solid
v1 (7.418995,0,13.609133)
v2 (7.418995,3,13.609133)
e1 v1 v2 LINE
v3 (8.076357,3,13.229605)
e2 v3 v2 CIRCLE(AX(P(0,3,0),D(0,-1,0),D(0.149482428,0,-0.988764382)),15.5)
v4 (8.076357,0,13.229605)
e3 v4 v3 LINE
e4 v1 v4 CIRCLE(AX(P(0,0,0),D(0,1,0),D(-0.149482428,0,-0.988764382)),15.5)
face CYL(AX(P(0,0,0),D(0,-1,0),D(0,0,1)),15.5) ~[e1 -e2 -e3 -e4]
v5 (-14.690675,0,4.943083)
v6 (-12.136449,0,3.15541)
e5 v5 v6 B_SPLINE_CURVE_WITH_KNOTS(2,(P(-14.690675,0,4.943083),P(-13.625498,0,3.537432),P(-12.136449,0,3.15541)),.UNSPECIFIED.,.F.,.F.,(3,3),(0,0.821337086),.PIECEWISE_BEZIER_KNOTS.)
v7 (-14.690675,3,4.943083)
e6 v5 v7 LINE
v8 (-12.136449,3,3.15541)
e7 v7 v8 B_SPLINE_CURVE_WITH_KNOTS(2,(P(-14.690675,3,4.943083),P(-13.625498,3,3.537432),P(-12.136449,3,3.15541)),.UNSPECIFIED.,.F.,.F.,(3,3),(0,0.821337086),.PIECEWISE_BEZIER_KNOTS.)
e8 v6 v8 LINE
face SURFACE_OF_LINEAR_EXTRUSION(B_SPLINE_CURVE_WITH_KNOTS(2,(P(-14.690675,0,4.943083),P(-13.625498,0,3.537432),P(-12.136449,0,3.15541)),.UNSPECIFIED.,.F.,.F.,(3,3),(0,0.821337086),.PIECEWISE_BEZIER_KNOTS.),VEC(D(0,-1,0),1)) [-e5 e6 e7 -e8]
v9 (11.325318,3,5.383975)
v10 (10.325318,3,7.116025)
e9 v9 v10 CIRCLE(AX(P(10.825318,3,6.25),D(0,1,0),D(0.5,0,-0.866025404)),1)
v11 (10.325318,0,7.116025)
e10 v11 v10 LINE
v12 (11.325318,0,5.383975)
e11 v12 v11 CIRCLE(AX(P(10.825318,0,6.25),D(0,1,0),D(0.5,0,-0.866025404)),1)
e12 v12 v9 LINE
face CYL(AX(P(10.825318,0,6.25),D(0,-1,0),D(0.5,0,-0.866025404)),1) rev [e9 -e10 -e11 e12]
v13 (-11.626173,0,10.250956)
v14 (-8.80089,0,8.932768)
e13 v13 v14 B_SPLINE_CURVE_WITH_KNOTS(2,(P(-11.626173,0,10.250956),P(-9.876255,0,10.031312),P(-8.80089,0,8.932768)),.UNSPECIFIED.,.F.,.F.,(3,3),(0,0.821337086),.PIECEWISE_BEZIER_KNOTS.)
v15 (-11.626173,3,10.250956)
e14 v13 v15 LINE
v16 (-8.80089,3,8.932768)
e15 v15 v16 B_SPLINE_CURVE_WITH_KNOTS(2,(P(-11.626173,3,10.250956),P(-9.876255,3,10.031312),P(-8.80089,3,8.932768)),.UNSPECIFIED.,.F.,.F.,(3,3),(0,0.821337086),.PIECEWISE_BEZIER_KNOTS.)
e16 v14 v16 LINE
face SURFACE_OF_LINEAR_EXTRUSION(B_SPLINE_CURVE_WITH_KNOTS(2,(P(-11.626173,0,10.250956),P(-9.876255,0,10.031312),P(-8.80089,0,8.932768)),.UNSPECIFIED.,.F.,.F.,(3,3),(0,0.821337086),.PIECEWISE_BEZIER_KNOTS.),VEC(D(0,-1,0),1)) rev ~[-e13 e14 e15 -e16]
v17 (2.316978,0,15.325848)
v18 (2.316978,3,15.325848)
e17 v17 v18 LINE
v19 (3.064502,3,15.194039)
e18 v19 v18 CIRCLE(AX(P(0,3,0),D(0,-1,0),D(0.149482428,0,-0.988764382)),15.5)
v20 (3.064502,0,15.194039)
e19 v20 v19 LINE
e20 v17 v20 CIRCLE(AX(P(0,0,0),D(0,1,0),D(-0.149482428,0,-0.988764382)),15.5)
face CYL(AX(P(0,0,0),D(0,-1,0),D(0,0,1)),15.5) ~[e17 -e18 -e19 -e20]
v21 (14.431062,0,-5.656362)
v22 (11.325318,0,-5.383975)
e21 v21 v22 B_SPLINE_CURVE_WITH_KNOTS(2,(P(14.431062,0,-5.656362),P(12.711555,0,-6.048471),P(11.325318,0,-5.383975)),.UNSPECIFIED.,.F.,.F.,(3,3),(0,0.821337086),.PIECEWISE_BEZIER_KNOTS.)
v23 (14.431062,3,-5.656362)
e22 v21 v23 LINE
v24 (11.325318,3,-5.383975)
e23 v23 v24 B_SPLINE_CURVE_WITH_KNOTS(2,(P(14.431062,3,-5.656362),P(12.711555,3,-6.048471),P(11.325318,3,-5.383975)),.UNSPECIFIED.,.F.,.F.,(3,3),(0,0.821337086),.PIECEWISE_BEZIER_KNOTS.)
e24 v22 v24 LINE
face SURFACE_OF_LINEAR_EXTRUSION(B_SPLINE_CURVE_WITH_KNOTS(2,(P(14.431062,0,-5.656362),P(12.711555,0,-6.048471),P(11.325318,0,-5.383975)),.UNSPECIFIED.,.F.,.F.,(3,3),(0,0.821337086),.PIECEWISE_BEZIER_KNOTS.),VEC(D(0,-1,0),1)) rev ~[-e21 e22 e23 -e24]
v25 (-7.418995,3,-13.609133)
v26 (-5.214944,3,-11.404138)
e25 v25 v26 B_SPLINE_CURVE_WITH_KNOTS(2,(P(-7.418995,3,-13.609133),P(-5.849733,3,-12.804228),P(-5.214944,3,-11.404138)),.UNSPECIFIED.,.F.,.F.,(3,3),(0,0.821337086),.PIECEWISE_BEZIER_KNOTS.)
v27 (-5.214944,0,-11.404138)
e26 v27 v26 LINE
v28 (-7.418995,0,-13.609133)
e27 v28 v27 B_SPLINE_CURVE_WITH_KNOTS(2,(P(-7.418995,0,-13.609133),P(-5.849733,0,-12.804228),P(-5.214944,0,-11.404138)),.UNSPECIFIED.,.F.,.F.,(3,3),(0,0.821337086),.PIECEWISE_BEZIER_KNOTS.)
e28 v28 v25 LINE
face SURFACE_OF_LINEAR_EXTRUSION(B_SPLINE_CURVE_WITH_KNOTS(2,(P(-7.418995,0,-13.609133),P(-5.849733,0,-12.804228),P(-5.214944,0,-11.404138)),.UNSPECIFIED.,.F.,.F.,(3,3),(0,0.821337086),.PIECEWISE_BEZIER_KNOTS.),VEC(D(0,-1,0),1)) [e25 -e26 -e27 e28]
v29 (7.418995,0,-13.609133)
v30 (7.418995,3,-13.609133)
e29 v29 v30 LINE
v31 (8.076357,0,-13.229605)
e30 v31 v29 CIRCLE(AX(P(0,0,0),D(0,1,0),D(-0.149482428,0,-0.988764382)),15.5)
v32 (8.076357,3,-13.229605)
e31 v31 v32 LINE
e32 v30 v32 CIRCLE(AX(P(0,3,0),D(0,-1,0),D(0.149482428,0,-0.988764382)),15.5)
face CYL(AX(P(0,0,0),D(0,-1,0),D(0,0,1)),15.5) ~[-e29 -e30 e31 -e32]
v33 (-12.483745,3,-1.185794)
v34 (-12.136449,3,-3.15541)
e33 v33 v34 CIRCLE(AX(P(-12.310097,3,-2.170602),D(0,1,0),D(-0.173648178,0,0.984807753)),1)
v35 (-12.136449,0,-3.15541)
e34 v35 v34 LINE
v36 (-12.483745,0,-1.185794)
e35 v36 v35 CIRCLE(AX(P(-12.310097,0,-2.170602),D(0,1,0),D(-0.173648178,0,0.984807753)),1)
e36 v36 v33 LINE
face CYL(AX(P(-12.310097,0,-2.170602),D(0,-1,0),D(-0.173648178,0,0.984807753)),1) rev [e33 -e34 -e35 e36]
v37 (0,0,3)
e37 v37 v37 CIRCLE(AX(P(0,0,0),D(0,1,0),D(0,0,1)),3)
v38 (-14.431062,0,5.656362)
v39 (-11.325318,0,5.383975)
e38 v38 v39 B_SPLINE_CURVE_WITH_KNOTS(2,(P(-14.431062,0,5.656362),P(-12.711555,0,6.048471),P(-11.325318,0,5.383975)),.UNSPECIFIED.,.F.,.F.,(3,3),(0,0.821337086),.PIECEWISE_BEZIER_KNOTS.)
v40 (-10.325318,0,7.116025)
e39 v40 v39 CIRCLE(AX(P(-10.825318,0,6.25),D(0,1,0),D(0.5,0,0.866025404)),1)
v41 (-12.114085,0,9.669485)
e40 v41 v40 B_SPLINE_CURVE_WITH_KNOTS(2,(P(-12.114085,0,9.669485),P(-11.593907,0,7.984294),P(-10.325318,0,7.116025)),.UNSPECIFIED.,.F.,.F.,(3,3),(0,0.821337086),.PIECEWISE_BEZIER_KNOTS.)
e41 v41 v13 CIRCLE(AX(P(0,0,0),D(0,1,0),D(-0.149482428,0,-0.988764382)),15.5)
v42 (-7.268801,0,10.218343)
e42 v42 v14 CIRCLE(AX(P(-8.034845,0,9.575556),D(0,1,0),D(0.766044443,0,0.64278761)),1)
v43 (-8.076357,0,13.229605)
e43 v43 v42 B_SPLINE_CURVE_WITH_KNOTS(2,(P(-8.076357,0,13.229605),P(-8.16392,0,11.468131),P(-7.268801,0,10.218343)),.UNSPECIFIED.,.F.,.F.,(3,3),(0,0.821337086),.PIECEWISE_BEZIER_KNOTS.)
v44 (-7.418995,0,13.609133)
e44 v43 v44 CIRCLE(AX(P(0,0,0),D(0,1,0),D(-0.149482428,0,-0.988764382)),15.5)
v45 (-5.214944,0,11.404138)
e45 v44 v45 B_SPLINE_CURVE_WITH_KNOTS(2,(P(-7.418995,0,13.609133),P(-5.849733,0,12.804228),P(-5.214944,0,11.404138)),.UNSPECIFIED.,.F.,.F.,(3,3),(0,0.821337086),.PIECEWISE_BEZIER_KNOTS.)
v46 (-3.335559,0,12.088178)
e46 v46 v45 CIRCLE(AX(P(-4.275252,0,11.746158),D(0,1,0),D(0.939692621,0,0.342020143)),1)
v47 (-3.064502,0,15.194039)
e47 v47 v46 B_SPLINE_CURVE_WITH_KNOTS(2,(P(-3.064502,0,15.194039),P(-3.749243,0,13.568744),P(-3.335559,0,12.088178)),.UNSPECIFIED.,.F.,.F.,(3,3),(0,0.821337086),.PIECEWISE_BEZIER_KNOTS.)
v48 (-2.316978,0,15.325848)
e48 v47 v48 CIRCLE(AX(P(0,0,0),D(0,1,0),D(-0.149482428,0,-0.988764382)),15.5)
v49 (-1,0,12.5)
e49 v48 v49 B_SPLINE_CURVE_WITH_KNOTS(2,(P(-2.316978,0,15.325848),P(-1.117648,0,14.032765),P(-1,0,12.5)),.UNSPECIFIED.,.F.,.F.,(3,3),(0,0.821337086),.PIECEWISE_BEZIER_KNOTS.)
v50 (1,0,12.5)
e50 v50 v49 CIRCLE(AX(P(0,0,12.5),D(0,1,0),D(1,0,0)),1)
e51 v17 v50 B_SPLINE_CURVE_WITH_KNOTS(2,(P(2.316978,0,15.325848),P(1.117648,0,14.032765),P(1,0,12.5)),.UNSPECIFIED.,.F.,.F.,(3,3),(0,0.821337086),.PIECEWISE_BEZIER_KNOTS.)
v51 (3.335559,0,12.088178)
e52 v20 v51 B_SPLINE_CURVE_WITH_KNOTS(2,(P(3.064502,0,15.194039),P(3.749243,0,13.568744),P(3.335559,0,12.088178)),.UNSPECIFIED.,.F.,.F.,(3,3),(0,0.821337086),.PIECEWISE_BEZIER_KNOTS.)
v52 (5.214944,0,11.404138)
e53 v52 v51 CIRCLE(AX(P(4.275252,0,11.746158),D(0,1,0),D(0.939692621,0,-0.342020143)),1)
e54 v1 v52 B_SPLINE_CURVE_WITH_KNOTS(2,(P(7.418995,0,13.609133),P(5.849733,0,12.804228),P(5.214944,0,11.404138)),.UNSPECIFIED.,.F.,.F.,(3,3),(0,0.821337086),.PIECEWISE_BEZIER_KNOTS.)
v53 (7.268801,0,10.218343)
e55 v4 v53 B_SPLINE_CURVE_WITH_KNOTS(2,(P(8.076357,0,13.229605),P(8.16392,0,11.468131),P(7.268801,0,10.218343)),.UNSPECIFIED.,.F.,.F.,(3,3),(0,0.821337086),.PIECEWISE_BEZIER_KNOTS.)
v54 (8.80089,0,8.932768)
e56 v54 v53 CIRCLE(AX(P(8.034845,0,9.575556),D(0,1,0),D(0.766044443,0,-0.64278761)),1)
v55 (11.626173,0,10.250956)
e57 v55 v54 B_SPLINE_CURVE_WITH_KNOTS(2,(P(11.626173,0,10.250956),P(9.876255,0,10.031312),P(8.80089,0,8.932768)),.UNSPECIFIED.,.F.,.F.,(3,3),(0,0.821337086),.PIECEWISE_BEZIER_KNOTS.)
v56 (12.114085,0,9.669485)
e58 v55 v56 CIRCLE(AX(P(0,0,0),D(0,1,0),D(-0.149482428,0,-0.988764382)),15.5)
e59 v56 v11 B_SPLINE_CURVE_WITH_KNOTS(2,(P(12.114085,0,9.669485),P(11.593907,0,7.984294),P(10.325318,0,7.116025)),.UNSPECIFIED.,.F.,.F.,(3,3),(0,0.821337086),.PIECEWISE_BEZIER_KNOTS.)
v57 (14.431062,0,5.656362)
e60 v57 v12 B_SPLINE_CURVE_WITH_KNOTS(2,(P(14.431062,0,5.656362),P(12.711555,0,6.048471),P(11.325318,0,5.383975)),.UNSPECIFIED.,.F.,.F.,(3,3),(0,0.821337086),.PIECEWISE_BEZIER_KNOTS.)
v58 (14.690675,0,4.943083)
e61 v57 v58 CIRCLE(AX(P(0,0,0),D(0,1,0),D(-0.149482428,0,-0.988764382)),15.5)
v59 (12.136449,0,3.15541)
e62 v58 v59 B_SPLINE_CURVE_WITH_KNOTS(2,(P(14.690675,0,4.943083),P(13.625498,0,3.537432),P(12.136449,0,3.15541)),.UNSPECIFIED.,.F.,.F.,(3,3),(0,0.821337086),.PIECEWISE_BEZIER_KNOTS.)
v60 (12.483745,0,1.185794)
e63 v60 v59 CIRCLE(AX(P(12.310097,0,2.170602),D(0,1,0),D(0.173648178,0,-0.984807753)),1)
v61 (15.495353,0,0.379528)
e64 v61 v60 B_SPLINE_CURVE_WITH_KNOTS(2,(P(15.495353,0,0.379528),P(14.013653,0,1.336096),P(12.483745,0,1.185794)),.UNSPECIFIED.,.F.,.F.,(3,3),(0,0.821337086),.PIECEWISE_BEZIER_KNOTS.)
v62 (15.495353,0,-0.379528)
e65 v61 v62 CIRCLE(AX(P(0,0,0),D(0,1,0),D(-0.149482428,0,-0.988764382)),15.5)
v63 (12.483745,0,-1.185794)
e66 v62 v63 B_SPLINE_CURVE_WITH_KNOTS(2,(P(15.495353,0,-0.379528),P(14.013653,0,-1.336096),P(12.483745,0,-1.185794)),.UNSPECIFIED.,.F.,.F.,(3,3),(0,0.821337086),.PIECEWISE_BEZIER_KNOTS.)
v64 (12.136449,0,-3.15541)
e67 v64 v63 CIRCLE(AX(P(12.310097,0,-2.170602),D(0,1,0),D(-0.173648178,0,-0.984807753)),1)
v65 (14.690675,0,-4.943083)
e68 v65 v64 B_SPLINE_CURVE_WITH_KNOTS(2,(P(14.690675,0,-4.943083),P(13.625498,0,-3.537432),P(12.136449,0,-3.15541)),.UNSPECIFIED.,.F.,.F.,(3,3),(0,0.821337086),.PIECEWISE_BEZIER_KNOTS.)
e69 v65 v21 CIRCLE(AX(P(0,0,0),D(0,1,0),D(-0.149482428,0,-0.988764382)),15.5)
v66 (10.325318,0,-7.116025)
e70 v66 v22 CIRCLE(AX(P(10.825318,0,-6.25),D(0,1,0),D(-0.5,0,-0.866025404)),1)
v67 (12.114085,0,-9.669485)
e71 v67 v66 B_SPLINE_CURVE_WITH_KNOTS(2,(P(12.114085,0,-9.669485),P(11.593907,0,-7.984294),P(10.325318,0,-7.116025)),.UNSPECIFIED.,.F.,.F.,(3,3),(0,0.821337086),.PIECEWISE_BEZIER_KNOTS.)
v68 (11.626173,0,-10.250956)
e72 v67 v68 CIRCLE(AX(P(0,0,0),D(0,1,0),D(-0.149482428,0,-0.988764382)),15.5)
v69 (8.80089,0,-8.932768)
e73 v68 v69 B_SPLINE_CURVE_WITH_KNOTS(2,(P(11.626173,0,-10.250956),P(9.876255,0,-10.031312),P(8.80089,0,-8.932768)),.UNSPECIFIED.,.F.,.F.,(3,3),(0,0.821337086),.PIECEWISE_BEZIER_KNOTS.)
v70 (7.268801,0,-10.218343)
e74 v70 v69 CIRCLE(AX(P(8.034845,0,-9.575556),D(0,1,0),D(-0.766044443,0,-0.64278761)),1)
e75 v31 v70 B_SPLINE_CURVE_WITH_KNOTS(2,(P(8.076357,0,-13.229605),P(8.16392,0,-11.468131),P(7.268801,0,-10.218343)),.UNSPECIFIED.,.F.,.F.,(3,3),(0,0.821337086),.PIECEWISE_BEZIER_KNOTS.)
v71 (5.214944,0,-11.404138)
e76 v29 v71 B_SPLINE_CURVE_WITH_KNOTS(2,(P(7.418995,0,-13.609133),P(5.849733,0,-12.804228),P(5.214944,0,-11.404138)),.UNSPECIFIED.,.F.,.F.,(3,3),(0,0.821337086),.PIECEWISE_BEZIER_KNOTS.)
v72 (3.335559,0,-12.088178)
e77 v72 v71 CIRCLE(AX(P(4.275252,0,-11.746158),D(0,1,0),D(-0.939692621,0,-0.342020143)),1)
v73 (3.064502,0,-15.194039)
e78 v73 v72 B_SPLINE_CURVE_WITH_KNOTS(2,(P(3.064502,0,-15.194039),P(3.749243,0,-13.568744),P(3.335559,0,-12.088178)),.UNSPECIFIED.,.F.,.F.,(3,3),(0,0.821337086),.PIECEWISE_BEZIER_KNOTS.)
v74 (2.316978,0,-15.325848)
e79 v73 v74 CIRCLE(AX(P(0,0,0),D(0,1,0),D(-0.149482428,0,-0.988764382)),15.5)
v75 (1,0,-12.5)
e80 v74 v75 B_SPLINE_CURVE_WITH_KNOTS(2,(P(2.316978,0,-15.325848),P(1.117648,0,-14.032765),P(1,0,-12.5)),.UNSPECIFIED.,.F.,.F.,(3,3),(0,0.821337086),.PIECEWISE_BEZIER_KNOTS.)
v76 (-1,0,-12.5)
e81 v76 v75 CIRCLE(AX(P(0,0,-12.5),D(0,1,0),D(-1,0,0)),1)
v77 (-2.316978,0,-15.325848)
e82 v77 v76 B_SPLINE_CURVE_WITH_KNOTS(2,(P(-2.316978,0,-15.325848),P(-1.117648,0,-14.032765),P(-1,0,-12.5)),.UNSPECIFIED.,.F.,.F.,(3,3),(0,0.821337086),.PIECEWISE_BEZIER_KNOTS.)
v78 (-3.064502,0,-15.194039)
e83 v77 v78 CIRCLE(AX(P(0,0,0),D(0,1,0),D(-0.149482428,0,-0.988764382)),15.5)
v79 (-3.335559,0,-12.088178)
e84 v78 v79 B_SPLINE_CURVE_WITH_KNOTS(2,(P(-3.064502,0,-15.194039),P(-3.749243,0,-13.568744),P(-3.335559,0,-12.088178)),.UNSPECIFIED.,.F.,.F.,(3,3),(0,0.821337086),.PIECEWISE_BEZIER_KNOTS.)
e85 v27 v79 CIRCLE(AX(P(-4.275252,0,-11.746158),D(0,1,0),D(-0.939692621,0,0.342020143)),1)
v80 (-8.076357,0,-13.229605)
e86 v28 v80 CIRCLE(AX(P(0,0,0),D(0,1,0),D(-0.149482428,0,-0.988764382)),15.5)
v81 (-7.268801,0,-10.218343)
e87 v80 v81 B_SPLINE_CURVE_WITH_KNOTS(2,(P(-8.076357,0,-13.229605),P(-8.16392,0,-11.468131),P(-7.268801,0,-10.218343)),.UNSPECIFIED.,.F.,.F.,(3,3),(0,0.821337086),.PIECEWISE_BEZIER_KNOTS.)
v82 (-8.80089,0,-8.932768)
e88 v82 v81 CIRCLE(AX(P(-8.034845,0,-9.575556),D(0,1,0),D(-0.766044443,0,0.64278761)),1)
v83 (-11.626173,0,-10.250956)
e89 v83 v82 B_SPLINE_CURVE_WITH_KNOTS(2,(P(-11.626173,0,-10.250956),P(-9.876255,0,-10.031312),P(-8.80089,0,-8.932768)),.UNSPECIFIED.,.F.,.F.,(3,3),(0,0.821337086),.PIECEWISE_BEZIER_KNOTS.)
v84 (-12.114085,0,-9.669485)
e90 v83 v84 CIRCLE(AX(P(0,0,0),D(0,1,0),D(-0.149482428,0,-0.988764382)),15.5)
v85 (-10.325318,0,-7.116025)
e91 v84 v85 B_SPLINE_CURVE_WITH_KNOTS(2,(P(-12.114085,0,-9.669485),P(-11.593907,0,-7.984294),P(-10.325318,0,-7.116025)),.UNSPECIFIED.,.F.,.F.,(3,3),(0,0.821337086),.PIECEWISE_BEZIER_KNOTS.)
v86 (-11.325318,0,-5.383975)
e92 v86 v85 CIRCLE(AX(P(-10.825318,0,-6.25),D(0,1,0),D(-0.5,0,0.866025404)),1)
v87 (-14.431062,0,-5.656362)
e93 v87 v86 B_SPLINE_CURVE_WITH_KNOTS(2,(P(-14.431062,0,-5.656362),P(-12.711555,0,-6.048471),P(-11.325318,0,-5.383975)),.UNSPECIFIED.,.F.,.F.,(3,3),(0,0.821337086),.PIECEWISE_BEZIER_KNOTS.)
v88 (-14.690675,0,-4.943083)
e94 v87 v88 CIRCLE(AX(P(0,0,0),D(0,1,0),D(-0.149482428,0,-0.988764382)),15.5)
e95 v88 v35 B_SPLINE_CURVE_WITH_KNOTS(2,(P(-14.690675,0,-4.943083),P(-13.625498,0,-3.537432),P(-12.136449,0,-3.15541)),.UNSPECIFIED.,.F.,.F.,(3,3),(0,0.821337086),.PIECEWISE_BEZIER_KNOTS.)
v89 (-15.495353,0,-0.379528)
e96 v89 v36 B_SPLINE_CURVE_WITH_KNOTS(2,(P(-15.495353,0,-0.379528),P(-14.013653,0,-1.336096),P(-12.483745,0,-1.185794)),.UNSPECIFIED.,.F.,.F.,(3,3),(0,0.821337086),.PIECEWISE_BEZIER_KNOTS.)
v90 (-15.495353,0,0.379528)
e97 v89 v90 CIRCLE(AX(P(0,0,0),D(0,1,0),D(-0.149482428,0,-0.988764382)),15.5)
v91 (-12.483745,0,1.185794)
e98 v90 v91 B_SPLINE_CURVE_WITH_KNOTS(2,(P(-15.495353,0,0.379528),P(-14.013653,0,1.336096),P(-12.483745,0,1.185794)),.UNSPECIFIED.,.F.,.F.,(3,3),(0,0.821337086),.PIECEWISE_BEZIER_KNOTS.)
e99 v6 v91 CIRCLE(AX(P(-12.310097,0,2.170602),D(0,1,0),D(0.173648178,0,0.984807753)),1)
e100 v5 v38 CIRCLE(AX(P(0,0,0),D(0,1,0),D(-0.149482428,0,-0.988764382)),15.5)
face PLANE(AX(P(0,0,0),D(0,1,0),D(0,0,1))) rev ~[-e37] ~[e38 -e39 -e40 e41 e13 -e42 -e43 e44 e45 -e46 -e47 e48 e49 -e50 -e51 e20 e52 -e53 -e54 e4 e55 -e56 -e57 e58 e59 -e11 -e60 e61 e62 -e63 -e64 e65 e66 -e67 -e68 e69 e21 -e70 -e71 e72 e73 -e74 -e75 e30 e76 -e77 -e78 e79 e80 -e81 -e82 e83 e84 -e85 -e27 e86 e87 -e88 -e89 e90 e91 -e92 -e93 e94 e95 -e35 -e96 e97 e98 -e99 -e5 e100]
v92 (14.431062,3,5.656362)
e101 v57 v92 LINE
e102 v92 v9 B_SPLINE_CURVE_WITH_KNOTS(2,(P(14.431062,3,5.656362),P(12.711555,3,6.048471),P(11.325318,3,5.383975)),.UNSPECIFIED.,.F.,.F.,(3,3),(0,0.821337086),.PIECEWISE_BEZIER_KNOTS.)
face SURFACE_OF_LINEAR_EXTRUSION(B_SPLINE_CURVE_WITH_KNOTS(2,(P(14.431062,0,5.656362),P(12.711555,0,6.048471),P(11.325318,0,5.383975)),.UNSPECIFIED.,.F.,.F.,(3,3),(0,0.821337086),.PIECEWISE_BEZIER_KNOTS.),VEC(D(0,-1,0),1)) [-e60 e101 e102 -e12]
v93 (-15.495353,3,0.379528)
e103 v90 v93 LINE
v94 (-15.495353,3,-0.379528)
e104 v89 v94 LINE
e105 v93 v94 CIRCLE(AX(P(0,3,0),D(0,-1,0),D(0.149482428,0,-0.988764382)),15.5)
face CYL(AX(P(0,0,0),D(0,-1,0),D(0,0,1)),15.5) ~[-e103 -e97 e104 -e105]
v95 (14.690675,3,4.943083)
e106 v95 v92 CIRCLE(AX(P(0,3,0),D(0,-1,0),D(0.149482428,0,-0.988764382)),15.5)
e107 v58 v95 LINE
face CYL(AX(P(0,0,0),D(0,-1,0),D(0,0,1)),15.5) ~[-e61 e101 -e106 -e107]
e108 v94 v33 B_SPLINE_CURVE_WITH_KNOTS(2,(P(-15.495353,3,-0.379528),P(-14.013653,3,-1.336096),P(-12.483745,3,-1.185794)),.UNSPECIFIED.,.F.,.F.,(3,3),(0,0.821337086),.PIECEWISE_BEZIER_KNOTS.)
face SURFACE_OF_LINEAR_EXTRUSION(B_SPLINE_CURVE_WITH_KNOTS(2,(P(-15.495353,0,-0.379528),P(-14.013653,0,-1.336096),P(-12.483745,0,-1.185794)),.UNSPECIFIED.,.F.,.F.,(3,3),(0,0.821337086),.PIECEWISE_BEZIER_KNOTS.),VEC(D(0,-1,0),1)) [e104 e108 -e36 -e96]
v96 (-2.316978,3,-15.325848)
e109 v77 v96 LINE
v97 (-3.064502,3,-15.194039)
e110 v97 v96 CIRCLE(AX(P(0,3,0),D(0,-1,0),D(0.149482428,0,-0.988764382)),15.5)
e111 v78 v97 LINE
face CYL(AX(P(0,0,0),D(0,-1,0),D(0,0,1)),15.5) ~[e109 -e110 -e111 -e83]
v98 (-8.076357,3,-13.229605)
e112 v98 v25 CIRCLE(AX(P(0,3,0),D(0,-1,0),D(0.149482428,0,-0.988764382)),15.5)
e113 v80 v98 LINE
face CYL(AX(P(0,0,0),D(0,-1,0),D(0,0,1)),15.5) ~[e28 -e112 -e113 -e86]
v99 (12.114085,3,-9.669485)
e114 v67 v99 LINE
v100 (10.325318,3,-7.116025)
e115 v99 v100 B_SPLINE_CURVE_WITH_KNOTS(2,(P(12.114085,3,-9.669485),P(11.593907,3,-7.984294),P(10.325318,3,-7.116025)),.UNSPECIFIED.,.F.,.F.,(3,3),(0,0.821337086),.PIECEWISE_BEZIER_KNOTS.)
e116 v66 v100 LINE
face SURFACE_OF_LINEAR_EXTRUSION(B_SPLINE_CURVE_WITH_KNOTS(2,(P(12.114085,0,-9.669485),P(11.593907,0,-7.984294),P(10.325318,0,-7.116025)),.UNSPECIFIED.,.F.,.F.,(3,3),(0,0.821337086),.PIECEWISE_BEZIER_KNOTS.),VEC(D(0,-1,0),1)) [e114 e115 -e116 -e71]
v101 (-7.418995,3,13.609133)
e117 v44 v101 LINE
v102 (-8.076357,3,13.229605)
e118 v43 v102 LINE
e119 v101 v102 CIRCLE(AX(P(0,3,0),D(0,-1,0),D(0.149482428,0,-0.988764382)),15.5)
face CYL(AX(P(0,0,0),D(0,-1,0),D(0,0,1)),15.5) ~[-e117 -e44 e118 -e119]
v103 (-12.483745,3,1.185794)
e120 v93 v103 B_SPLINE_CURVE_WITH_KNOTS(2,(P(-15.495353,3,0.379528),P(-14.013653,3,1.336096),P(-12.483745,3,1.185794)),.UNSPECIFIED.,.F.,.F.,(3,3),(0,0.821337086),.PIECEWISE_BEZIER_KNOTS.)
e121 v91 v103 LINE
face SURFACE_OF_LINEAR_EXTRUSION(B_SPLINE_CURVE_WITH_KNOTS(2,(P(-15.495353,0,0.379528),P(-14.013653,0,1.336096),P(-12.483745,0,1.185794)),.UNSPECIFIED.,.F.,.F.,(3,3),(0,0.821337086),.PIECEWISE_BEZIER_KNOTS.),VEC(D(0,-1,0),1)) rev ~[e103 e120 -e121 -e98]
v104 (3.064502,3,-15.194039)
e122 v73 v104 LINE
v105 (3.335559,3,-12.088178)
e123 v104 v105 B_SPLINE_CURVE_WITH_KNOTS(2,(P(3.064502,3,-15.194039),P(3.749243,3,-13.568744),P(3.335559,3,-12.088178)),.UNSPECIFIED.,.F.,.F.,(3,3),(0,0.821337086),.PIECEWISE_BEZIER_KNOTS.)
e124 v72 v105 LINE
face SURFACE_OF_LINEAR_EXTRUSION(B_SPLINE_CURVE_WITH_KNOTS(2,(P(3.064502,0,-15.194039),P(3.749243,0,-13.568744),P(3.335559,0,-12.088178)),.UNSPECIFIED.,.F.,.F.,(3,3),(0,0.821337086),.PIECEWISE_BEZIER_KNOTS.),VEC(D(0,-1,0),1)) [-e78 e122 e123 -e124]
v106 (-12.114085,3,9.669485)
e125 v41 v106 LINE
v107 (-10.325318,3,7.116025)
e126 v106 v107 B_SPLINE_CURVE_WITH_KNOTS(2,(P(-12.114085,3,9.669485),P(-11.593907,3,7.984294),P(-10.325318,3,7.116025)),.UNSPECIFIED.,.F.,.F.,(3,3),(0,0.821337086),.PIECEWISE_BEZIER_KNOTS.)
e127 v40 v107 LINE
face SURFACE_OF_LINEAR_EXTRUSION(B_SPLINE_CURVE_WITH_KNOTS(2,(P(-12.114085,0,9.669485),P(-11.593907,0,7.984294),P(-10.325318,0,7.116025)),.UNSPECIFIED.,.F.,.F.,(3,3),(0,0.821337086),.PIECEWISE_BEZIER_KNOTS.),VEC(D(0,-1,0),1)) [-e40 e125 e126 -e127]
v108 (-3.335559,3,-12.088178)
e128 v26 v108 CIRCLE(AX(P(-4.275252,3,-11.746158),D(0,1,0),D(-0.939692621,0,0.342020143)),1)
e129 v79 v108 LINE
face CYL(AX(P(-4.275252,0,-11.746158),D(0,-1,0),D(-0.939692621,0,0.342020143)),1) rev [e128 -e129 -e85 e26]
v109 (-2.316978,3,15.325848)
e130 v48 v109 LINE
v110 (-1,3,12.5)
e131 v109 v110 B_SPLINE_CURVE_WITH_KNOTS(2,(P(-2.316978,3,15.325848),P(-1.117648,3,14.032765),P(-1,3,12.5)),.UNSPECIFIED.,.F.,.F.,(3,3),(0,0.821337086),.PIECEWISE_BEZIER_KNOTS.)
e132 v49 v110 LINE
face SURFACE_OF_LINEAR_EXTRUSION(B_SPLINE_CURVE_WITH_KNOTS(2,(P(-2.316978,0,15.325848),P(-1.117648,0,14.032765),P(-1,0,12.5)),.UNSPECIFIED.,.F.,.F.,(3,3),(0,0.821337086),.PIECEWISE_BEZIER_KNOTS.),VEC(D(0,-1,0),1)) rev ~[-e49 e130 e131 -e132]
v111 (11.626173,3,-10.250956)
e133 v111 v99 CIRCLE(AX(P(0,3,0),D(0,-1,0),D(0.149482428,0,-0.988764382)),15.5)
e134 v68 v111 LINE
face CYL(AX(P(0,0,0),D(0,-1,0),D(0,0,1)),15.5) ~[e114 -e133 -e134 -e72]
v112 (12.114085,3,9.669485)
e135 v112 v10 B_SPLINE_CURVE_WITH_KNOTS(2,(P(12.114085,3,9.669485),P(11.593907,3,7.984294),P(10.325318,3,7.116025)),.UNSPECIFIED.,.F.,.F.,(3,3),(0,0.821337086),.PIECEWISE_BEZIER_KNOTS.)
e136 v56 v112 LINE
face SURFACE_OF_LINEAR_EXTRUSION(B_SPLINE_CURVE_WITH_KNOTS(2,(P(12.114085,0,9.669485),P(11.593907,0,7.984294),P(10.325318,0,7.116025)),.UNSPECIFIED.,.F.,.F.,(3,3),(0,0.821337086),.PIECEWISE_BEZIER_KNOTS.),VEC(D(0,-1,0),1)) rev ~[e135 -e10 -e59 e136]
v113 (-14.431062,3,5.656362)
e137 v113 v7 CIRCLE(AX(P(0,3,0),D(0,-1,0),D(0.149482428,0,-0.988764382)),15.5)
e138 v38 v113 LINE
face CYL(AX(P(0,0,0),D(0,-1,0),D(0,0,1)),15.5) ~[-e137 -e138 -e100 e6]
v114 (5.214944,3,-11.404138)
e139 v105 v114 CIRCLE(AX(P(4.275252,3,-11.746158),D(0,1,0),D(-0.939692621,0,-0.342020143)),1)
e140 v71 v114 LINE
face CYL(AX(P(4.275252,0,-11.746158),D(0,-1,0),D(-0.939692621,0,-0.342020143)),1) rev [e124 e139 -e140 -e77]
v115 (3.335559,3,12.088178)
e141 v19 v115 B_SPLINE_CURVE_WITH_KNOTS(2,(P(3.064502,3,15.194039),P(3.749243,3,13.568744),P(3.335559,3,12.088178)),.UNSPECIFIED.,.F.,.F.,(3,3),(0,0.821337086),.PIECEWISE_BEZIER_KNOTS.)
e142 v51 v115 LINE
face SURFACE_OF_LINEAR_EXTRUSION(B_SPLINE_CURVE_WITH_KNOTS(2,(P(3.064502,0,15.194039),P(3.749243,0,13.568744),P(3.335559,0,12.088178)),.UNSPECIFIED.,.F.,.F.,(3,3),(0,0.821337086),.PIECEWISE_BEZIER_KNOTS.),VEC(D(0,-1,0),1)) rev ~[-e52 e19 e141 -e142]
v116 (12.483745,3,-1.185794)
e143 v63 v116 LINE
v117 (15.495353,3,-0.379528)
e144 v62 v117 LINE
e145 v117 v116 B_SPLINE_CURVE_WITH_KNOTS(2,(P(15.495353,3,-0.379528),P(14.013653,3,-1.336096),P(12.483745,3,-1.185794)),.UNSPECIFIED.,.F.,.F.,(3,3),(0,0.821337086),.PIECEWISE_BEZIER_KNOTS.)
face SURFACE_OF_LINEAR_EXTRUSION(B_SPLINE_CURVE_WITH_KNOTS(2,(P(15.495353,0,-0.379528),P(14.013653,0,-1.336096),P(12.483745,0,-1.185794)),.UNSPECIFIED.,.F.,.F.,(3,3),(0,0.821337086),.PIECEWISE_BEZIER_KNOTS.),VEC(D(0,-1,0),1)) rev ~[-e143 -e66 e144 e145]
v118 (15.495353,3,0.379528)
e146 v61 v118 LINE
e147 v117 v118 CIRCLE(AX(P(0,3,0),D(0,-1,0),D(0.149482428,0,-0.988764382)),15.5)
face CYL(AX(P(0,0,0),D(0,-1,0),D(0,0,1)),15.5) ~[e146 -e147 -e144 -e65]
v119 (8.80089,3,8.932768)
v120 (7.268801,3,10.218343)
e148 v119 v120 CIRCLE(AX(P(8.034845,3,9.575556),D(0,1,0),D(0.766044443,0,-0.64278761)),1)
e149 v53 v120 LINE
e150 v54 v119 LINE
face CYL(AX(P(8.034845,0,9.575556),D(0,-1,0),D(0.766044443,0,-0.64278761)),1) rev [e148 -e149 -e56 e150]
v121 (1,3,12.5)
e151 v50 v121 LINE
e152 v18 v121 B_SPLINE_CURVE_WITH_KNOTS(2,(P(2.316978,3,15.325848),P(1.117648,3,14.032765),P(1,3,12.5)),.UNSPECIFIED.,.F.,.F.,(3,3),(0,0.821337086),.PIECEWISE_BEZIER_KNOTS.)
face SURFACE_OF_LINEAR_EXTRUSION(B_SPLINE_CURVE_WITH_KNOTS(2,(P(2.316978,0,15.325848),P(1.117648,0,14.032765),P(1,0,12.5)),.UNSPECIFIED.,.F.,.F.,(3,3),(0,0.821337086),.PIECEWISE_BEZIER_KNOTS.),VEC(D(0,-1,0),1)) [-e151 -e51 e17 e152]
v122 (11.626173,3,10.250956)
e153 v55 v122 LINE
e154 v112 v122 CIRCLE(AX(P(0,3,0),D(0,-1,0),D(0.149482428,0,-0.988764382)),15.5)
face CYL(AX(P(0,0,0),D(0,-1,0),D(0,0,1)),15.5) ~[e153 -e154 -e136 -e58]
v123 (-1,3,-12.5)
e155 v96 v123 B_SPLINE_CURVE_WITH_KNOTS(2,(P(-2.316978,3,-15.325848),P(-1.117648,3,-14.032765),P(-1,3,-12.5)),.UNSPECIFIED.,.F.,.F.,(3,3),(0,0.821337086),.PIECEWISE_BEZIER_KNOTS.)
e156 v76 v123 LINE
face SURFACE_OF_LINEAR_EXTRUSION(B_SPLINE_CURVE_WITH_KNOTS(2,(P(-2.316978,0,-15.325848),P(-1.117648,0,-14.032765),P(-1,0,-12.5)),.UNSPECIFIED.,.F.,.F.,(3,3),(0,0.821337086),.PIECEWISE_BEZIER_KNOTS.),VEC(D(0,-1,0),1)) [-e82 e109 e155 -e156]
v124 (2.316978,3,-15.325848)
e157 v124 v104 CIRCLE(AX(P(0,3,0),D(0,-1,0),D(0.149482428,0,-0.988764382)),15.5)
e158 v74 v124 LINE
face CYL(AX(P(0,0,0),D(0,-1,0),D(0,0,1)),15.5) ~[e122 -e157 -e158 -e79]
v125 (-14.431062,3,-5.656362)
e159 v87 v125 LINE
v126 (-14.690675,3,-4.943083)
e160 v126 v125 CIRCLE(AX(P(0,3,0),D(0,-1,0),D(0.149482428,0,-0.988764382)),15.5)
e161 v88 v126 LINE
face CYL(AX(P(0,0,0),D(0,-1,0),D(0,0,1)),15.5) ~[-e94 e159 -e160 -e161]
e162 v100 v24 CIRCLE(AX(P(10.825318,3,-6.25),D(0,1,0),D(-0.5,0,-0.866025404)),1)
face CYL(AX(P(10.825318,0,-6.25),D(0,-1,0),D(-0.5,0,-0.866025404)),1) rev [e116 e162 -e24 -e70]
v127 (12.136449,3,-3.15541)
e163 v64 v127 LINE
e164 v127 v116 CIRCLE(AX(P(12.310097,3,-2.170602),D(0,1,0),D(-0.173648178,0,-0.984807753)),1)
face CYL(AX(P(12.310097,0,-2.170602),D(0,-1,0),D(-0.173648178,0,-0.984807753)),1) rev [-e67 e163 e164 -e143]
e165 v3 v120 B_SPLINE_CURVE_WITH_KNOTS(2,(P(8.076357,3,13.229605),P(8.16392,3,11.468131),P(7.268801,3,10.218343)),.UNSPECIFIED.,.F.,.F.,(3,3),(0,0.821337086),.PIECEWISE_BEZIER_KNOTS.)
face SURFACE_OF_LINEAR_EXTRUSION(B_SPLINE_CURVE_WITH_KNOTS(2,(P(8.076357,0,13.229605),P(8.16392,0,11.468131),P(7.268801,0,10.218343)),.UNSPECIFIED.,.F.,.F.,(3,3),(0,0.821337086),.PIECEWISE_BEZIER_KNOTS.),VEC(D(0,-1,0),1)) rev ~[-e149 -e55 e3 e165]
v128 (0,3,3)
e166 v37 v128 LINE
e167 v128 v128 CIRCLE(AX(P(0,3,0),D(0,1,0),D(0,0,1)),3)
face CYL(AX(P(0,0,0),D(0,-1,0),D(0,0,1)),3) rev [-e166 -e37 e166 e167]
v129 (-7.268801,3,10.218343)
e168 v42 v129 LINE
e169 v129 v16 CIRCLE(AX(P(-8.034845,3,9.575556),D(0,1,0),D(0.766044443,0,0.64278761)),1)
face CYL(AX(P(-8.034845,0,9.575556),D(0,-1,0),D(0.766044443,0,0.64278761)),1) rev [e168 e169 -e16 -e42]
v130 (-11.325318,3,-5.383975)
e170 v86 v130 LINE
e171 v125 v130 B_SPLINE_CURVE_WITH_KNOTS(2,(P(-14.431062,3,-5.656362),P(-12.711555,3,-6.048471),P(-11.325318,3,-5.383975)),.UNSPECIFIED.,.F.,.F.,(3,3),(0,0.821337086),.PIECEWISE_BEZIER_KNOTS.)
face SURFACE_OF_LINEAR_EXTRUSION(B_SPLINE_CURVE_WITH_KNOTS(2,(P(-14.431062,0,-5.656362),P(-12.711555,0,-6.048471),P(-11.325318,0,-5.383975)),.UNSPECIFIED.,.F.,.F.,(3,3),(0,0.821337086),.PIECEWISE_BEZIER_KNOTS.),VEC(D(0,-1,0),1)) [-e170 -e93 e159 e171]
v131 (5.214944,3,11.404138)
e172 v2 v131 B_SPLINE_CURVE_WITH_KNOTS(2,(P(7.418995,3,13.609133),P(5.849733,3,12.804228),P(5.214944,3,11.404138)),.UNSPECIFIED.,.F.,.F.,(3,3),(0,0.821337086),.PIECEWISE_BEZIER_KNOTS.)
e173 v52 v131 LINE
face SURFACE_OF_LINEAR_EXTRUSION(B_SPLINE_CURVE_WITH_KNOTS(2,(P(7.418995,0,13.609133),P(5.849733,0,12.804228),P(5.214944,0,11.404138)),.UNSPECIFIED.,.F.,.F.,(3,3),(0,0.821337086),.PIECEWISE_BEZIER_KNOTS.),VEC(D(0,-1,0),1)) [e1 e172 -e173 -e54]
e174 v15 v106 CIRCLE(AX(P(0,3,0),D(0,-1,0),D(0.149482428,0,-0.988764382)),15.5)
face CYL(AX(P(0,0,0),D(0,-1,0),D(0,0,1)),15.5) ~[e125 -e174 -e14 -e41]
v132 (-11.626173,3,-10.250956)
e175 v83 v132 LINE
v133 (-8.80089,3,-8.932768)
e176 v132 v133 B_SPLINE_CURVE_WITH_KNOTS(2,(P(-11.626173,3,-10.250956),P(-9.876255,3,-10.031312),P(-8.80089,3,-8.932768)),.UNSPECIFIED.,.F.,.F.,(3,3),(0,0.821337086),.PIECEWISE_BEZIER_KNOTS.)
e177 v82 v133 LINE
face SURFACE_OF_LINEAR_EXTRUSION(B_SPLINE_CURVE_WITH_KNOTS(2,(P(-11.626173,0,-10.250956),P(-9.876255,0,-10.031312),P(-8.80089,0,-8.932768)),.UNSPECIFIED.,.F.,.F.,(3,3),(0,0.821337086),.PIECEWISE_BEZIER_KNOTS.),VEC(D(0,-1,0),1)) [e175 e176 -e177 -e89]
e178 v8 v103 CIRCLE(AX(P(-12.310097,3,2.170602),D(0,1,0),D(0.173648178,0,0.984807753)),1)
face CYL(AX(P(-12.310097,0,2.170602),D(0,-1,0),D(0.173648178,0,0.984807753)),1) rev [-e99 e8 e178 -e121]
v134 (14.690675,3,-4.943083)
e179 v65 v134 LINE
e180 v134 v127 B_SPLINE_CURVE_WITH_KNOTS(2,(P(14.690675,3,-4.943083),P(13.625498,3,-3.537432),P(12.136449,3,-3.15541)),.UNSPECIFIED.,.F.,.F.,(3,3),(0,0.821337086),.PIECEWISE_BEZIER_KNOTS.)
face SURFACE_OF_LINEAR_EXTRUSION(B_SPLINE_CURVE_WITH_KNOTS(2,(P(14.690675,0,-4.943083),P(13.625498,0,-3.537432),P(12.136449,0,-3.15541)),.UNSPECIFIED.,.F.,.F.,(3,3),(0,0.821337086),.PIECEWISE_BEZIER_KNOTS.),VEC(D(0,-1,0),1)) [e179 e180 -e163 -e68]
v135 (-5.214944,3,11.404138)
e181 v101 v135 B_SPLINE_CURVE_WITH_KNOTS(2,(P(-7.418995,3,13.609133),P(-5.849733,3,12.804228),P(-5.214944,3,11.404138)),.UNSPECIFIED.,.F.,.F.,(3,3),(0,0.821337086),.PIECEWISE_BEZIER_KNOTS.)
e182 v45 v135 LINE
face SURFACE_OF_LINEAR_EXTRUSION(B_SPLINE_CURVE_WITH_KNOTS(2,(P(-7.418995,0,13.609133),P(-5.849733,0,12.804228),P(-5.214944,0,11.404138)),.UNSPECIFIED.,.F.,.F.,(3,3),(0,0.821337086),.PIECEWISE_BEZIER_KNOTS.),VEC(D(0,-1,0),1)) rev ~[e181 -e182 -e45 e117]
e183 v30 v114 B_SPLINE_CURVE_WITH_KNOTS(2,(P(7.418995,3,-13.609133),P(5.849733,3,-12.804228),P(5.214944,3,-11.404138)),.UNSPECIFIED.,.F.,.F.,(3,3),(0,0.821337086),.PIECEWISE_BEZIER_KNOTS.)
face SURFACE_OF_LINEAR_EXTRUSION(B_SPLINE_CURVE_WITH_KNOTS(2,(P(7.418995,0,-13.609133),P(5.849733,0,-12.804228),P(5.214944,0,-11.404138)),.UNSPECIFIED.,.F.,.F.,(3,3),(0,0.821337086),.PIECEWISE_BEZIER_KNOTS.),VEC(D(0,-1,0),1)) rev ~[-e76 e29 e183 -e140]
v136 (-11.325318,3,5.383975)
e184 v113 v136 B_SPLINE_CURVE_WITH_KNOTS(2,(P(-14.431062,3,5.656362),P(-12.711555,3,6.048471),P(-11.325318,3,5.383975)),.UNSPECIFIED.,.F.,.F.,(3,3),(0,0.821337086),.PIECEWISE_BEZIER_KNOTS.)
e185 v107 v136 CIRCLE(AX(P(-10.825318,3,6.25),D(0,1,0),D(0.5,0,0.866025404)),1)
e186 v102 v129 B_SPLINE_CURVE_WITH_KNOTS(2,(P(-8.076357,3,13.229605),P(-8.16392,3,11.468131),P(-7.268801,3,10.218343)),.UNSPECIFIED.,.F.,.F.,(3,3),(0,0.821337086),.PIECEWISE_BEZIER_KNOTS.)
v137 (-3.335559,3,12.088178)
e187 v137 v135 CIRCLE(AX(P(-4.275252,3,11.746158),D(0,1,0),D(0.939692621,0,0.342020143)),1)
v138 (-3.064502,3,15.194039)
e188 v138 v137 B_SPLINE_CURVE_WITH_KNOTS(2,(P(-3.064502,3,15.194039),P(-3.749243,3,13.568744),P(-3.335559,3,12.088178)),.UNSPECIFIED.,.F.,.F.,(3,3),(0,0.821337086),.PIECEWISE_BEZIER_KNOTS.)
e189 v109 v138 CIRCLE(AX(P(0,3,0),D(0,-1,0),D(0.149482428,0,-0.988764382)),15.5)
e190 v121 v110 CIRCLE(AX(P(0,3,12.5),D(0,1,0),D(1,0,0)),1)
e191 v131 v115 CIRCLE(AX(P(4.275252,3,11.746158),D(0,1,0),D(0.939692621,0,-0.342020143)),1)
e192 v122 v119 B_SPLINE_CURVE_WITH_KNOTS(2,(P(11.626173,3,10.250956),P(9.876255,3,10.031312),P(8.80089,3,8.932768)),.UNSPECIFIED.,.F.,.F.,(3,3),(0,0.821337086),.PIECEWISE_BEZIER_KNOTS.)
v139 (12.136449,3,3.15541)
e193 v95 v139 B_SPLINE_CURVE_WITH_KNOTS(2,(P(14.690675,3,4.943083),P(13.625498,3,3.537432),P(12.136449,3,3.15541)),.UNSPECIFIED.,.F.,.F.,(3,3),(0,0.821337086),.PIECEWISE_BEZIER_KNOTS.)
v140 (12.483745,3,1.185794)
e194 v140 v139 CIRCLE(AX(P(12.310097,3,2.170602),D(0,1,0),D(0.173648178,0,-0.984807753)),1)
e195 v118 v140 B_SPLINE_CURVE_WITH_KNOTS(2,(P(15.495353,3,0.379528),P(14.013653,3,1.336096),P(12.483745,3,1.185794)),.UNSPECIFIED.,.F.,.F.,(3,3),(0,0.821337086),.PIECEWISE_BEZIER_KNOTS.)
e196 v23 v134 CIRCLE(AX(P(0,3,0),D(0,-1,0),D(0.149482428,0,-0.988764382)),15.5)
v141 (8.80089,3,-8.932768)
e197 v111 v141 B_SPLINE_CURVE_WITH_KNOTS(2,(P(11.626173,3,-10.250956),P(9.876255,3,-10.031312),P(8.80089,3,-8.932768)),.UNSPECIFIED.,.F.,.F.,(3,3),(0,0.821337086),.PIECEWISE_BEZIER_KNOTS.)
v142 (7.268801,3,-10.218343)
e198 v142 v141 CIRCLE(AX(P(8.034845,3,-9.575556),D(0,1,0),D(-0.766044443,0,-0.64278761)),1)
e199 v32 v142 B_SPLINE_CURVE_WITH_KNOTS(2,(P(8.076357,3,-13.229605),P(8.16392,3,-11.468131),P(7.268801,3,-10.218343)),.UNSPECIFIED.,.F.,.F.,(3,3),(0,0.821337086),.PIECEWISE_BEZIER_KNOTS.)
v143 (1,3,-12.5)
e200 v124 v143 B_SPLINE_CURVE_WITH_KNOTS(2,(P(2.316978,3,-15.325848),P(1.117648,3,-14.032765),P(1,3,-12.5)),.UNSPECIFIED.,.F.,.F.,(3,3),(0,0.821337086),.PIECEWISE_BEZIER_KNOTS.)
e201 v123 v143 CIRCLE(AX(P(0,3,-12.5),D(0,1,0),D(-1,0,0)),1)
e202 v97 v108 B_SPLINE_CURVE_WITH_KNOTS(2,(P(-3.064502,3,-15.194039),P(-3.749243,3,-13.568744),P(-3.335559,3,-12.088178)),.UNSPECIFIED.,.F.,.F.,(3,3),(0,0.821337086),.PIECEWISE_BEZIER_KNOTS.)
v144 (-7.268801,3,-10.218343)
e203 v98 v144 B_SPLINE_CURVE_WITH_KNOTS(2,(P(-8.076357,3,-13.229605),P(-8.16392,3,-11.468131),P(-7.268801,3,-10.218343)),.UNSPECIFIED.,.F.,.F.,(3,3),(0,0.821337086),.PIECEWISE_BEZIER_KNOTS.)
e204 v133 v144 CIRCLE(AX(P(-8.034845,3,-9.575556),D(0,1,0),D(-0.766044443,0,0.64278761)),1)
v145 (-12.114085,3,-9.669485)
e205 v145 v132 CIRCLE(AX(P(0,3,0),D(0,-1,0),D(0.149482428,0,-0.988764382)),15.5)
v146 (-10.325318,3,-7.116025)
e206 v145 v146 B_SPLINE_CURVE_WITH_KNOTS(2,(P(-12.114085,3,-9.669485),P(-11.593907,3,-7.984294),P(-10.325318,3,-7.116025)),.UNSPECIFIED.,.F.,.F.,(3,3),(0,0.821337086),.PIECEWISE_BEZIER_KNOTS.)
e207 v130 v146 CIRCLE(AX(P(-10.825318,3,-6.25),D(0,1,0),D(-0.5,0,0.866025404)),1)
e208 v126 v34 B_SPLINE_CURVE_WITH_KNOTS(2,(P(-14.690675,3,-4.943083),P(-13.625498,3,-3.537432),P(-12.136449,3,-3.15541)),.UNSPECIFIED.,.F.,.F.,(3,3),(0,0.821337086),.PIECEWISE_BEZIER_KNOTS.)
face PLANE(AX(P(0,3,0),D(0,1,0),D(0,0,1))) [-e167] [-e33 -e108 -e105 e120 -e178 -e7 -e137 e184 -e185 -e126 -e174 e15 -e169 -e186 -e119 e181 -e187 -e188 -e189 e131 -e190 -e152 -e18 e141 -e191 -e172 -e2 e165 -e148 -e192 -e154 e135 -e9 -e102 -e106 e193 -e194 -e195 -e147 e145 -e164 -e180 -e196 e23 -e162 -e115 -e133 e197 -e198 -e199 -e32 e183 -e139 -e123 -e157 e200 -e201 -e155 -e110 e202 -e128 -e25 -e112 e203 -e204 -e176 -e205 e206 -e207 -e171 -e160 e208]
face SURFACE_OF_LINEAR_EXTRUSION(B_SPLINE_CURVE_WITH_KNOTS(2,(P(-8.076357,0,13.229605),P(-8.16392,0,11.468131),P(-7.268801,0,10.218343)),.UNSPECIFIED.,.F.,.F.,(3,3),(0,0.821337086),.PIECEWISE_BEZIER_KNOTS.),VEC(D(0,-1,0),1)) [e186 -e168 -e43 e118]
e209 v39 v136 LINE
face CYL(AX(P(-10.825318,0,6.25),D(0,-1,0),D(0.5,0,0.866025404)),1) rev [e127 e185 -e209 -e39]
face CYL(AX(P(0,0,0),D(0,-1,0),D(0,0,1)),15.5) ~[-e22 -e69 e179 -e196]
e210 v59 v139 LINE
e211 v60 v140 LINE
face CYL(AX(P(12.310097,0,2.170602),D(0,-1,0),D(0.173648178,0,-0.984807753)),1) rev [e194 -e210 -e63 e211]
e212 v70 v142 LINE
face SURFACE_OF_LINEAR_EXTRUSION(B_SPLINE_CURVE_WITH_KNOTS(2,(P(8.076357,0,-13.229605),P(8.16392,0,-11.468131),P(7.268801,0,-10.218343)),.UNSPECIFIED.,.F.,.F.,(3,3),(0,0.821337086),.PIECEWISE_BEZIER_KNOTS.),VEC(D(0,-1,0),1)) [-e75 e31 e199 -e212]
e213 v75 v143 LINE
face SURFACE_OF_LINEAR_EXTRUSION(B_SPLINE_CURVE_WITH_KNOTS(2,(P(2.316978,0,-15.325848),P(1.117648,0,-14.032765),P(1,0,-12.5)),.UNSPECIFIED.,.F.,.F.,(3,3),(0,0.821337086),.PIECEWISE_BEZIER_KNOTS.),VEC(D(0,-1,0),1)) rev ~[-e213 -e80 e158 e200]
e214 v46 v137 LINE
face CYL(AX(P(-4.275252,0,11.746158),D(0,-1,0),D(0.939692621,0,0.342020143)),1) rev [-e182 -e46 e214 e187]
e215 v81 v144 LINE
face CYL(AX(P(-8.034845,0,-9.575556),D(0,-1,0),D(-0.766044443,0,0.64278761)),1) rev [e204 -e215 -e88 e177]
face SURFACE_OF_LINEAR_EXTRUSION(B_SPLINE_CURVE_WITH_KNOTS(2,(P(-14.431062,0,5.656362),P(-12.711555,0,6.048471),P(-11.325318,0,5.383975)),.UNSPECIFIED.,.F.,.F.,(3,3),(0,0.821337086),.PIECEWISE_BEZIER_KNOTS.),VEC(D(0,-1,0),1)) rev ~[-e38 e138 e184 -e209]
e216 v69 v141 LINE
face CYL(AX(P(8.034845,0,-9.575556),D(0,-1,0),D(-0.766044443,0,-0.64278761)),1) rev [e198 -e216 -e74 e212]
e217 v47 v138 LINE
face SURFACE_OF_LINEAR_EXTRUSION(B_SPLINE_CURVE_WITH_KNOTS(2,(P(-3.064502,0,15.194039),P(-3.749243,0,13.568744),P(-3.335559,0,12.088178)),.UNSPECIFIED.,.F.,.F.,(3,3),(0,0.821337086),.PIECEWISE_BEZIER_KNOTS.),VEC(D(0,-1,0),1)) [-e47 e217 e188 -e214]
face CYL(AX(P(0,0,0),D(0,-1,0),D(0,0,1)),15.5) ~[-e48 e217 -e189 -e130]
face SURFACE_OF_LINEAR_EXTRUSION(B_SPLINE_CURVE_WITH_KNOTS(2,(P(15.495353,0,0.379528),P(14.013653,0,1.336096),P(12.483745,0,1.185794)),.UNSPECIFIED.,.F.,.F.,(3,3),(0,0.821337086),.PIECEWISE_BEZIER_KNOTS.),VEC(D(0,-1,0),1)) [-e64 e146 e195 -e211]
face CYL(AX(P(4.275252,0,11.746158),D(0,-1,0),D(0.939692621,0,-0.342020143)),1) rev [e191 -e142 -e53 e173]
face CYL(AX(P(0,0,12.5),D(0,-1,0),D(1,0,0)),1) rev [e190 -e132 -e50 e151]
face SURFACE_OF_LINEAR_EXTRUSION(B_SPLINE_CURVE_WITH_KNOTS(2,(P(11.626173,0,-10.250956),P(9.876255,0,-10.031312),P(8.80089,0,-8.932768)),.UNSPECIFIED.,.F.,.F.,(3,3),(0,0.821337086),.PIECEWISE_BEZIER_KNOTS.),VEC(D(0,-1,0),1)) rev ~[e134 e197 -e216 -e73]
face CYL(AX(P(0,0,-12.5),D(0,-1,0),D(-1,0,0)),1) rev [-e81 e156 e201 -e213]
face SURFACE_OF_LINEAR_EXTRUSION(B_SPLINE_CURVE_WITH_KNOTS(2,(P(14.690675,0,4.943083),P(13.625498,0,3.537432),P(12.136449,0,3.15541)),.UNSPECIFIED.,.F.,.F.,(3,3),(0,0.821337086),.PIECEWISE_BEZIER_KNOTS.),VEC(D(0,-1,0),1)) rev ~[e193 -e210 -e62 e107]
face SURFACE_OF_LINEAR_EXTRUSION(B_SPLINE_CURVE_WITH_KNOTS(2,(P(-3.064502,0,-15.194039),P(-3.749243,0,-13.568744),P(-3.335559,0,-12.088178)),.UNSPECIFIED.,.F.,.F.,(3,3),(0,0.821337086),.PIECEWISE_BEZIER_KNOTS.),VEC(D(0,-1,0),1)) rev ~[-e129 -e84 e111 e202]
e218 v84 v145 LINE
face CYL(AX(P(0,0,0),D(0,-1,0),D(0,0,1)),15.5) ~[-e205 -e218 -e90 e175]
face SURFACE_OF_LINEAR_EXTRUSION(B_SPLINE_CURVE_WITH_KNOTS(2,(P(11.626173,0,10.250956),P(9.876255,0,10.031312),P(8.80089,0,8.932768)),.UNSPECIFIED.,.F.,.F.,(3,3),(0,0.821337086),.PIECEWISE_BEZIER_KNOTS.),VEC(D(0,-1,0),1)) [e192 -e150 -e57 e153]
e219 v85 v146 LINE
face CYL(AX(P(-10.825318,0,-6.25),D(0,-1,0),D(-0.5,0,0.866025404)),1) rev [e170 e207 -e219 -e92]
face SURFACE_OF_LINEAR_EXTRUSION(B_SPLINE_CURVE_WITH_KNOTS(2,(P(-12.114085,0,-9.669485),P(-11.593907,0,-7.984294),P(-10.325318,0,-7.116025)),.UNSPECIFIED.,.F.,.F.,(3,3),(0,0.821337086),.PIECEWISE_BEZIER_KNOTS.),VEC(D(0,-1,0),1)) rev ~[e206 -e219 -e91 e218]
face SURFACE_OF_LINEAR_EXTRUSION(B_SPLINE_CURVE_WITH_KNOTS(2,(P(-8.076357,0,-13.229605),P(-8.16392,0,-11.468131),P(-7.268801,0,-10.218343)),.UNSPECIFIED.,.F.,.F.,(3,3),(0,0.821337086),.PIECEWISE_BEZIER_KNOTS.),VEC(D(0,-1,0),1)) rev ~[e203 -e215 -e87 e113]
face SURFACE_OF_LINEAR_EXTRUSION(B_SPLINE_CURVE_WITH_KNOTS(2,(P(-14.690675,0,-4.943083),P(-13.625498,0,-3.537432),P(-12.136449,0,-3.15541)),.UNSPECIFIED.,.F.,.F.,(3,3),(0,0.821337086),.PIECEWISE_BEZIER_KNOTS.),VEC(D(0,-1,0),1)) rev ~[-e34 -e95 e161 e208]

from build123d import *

# Parameters (mm, degrees)
SKETCH1_R           = 15.5
SKETCH1_R_2         = 3
BOSS_EXTRUDE1_DEPTH = 3
CUT_EXTRUDE3_START  = -3
CUT_EXTRUDE3_DEPTH  = 3
CIRPATTERN2_COUNT   = 18


with BuildPart() as part:
    # Sketch1 → Boss-Extrude1 (new body)
    with BuildSketch(Plane(origin=(0, 0, 0), x_dir=(1, 0, 0), z_dir=(0, 1, 0))):
        with Locations(Location((0, 0, 0), (0, 0, 270))):
            Circle(SKETCH1_R)
        with Locations(Location((0, 0, 0), (0, 0, 270))):
            Circle(SKETCH1_R_2, mode=Mode.SUBTRACT)
    extrude(amount=BOSS_EXTRUDE1_DEPTH)

    # Sketch3 → Cut-Extrude3 (cut)
    with BuildSketch(Plane(origin=(0, 3, 0), x_dir=(1, 0, 0), z_dir=(0, 1, 0)).offset(CUT_EXTRUDE3_START)):
        with BuildLine():
            ThreePointArc((-1, 12.5), (0, 11.5), (1, 12.5))
            add(Edge.make_bspline(
                [(2.316977637, 15.325847925), (1.117647531, 14.032764815), (1, 12.5)],
                knots=[0, 0, 0, 0.821337086, 0.821337086, 0.821337086], degree=2))
            ThreePointArc((2.316977637, 15.325847925), (0, 15.5), (-2.316977637, 15.325847925))
            add(Edge.make_bspline(
                [(-2.316977637, 15.325847925), (-1.117647531, 14.032764815), (-1, 12.5)],
                knots=[0, 0, 0, 0.821337086, 0.821337086, 0.821337086], degree=2))
        make_face()
    cut_extrude3 = extrude(amount=CUT_EXTRUDE3_DEPTH, mode=Mode.SUBTRACT)

    # CirPattern2: Cut-Extrude3 ×18 about axis
    cirpattern2_axis = Axis((0, 3, 0), (0, 1, 0))
    for i in range(1, CIRPATTERN2_COUNT):
        add(cut_extrude3.rotate(cirpattern2_axis, i * 360 / CIRPATTERN2_COUNT), mode=Mode.SUBTRACT)


solid = part.part
